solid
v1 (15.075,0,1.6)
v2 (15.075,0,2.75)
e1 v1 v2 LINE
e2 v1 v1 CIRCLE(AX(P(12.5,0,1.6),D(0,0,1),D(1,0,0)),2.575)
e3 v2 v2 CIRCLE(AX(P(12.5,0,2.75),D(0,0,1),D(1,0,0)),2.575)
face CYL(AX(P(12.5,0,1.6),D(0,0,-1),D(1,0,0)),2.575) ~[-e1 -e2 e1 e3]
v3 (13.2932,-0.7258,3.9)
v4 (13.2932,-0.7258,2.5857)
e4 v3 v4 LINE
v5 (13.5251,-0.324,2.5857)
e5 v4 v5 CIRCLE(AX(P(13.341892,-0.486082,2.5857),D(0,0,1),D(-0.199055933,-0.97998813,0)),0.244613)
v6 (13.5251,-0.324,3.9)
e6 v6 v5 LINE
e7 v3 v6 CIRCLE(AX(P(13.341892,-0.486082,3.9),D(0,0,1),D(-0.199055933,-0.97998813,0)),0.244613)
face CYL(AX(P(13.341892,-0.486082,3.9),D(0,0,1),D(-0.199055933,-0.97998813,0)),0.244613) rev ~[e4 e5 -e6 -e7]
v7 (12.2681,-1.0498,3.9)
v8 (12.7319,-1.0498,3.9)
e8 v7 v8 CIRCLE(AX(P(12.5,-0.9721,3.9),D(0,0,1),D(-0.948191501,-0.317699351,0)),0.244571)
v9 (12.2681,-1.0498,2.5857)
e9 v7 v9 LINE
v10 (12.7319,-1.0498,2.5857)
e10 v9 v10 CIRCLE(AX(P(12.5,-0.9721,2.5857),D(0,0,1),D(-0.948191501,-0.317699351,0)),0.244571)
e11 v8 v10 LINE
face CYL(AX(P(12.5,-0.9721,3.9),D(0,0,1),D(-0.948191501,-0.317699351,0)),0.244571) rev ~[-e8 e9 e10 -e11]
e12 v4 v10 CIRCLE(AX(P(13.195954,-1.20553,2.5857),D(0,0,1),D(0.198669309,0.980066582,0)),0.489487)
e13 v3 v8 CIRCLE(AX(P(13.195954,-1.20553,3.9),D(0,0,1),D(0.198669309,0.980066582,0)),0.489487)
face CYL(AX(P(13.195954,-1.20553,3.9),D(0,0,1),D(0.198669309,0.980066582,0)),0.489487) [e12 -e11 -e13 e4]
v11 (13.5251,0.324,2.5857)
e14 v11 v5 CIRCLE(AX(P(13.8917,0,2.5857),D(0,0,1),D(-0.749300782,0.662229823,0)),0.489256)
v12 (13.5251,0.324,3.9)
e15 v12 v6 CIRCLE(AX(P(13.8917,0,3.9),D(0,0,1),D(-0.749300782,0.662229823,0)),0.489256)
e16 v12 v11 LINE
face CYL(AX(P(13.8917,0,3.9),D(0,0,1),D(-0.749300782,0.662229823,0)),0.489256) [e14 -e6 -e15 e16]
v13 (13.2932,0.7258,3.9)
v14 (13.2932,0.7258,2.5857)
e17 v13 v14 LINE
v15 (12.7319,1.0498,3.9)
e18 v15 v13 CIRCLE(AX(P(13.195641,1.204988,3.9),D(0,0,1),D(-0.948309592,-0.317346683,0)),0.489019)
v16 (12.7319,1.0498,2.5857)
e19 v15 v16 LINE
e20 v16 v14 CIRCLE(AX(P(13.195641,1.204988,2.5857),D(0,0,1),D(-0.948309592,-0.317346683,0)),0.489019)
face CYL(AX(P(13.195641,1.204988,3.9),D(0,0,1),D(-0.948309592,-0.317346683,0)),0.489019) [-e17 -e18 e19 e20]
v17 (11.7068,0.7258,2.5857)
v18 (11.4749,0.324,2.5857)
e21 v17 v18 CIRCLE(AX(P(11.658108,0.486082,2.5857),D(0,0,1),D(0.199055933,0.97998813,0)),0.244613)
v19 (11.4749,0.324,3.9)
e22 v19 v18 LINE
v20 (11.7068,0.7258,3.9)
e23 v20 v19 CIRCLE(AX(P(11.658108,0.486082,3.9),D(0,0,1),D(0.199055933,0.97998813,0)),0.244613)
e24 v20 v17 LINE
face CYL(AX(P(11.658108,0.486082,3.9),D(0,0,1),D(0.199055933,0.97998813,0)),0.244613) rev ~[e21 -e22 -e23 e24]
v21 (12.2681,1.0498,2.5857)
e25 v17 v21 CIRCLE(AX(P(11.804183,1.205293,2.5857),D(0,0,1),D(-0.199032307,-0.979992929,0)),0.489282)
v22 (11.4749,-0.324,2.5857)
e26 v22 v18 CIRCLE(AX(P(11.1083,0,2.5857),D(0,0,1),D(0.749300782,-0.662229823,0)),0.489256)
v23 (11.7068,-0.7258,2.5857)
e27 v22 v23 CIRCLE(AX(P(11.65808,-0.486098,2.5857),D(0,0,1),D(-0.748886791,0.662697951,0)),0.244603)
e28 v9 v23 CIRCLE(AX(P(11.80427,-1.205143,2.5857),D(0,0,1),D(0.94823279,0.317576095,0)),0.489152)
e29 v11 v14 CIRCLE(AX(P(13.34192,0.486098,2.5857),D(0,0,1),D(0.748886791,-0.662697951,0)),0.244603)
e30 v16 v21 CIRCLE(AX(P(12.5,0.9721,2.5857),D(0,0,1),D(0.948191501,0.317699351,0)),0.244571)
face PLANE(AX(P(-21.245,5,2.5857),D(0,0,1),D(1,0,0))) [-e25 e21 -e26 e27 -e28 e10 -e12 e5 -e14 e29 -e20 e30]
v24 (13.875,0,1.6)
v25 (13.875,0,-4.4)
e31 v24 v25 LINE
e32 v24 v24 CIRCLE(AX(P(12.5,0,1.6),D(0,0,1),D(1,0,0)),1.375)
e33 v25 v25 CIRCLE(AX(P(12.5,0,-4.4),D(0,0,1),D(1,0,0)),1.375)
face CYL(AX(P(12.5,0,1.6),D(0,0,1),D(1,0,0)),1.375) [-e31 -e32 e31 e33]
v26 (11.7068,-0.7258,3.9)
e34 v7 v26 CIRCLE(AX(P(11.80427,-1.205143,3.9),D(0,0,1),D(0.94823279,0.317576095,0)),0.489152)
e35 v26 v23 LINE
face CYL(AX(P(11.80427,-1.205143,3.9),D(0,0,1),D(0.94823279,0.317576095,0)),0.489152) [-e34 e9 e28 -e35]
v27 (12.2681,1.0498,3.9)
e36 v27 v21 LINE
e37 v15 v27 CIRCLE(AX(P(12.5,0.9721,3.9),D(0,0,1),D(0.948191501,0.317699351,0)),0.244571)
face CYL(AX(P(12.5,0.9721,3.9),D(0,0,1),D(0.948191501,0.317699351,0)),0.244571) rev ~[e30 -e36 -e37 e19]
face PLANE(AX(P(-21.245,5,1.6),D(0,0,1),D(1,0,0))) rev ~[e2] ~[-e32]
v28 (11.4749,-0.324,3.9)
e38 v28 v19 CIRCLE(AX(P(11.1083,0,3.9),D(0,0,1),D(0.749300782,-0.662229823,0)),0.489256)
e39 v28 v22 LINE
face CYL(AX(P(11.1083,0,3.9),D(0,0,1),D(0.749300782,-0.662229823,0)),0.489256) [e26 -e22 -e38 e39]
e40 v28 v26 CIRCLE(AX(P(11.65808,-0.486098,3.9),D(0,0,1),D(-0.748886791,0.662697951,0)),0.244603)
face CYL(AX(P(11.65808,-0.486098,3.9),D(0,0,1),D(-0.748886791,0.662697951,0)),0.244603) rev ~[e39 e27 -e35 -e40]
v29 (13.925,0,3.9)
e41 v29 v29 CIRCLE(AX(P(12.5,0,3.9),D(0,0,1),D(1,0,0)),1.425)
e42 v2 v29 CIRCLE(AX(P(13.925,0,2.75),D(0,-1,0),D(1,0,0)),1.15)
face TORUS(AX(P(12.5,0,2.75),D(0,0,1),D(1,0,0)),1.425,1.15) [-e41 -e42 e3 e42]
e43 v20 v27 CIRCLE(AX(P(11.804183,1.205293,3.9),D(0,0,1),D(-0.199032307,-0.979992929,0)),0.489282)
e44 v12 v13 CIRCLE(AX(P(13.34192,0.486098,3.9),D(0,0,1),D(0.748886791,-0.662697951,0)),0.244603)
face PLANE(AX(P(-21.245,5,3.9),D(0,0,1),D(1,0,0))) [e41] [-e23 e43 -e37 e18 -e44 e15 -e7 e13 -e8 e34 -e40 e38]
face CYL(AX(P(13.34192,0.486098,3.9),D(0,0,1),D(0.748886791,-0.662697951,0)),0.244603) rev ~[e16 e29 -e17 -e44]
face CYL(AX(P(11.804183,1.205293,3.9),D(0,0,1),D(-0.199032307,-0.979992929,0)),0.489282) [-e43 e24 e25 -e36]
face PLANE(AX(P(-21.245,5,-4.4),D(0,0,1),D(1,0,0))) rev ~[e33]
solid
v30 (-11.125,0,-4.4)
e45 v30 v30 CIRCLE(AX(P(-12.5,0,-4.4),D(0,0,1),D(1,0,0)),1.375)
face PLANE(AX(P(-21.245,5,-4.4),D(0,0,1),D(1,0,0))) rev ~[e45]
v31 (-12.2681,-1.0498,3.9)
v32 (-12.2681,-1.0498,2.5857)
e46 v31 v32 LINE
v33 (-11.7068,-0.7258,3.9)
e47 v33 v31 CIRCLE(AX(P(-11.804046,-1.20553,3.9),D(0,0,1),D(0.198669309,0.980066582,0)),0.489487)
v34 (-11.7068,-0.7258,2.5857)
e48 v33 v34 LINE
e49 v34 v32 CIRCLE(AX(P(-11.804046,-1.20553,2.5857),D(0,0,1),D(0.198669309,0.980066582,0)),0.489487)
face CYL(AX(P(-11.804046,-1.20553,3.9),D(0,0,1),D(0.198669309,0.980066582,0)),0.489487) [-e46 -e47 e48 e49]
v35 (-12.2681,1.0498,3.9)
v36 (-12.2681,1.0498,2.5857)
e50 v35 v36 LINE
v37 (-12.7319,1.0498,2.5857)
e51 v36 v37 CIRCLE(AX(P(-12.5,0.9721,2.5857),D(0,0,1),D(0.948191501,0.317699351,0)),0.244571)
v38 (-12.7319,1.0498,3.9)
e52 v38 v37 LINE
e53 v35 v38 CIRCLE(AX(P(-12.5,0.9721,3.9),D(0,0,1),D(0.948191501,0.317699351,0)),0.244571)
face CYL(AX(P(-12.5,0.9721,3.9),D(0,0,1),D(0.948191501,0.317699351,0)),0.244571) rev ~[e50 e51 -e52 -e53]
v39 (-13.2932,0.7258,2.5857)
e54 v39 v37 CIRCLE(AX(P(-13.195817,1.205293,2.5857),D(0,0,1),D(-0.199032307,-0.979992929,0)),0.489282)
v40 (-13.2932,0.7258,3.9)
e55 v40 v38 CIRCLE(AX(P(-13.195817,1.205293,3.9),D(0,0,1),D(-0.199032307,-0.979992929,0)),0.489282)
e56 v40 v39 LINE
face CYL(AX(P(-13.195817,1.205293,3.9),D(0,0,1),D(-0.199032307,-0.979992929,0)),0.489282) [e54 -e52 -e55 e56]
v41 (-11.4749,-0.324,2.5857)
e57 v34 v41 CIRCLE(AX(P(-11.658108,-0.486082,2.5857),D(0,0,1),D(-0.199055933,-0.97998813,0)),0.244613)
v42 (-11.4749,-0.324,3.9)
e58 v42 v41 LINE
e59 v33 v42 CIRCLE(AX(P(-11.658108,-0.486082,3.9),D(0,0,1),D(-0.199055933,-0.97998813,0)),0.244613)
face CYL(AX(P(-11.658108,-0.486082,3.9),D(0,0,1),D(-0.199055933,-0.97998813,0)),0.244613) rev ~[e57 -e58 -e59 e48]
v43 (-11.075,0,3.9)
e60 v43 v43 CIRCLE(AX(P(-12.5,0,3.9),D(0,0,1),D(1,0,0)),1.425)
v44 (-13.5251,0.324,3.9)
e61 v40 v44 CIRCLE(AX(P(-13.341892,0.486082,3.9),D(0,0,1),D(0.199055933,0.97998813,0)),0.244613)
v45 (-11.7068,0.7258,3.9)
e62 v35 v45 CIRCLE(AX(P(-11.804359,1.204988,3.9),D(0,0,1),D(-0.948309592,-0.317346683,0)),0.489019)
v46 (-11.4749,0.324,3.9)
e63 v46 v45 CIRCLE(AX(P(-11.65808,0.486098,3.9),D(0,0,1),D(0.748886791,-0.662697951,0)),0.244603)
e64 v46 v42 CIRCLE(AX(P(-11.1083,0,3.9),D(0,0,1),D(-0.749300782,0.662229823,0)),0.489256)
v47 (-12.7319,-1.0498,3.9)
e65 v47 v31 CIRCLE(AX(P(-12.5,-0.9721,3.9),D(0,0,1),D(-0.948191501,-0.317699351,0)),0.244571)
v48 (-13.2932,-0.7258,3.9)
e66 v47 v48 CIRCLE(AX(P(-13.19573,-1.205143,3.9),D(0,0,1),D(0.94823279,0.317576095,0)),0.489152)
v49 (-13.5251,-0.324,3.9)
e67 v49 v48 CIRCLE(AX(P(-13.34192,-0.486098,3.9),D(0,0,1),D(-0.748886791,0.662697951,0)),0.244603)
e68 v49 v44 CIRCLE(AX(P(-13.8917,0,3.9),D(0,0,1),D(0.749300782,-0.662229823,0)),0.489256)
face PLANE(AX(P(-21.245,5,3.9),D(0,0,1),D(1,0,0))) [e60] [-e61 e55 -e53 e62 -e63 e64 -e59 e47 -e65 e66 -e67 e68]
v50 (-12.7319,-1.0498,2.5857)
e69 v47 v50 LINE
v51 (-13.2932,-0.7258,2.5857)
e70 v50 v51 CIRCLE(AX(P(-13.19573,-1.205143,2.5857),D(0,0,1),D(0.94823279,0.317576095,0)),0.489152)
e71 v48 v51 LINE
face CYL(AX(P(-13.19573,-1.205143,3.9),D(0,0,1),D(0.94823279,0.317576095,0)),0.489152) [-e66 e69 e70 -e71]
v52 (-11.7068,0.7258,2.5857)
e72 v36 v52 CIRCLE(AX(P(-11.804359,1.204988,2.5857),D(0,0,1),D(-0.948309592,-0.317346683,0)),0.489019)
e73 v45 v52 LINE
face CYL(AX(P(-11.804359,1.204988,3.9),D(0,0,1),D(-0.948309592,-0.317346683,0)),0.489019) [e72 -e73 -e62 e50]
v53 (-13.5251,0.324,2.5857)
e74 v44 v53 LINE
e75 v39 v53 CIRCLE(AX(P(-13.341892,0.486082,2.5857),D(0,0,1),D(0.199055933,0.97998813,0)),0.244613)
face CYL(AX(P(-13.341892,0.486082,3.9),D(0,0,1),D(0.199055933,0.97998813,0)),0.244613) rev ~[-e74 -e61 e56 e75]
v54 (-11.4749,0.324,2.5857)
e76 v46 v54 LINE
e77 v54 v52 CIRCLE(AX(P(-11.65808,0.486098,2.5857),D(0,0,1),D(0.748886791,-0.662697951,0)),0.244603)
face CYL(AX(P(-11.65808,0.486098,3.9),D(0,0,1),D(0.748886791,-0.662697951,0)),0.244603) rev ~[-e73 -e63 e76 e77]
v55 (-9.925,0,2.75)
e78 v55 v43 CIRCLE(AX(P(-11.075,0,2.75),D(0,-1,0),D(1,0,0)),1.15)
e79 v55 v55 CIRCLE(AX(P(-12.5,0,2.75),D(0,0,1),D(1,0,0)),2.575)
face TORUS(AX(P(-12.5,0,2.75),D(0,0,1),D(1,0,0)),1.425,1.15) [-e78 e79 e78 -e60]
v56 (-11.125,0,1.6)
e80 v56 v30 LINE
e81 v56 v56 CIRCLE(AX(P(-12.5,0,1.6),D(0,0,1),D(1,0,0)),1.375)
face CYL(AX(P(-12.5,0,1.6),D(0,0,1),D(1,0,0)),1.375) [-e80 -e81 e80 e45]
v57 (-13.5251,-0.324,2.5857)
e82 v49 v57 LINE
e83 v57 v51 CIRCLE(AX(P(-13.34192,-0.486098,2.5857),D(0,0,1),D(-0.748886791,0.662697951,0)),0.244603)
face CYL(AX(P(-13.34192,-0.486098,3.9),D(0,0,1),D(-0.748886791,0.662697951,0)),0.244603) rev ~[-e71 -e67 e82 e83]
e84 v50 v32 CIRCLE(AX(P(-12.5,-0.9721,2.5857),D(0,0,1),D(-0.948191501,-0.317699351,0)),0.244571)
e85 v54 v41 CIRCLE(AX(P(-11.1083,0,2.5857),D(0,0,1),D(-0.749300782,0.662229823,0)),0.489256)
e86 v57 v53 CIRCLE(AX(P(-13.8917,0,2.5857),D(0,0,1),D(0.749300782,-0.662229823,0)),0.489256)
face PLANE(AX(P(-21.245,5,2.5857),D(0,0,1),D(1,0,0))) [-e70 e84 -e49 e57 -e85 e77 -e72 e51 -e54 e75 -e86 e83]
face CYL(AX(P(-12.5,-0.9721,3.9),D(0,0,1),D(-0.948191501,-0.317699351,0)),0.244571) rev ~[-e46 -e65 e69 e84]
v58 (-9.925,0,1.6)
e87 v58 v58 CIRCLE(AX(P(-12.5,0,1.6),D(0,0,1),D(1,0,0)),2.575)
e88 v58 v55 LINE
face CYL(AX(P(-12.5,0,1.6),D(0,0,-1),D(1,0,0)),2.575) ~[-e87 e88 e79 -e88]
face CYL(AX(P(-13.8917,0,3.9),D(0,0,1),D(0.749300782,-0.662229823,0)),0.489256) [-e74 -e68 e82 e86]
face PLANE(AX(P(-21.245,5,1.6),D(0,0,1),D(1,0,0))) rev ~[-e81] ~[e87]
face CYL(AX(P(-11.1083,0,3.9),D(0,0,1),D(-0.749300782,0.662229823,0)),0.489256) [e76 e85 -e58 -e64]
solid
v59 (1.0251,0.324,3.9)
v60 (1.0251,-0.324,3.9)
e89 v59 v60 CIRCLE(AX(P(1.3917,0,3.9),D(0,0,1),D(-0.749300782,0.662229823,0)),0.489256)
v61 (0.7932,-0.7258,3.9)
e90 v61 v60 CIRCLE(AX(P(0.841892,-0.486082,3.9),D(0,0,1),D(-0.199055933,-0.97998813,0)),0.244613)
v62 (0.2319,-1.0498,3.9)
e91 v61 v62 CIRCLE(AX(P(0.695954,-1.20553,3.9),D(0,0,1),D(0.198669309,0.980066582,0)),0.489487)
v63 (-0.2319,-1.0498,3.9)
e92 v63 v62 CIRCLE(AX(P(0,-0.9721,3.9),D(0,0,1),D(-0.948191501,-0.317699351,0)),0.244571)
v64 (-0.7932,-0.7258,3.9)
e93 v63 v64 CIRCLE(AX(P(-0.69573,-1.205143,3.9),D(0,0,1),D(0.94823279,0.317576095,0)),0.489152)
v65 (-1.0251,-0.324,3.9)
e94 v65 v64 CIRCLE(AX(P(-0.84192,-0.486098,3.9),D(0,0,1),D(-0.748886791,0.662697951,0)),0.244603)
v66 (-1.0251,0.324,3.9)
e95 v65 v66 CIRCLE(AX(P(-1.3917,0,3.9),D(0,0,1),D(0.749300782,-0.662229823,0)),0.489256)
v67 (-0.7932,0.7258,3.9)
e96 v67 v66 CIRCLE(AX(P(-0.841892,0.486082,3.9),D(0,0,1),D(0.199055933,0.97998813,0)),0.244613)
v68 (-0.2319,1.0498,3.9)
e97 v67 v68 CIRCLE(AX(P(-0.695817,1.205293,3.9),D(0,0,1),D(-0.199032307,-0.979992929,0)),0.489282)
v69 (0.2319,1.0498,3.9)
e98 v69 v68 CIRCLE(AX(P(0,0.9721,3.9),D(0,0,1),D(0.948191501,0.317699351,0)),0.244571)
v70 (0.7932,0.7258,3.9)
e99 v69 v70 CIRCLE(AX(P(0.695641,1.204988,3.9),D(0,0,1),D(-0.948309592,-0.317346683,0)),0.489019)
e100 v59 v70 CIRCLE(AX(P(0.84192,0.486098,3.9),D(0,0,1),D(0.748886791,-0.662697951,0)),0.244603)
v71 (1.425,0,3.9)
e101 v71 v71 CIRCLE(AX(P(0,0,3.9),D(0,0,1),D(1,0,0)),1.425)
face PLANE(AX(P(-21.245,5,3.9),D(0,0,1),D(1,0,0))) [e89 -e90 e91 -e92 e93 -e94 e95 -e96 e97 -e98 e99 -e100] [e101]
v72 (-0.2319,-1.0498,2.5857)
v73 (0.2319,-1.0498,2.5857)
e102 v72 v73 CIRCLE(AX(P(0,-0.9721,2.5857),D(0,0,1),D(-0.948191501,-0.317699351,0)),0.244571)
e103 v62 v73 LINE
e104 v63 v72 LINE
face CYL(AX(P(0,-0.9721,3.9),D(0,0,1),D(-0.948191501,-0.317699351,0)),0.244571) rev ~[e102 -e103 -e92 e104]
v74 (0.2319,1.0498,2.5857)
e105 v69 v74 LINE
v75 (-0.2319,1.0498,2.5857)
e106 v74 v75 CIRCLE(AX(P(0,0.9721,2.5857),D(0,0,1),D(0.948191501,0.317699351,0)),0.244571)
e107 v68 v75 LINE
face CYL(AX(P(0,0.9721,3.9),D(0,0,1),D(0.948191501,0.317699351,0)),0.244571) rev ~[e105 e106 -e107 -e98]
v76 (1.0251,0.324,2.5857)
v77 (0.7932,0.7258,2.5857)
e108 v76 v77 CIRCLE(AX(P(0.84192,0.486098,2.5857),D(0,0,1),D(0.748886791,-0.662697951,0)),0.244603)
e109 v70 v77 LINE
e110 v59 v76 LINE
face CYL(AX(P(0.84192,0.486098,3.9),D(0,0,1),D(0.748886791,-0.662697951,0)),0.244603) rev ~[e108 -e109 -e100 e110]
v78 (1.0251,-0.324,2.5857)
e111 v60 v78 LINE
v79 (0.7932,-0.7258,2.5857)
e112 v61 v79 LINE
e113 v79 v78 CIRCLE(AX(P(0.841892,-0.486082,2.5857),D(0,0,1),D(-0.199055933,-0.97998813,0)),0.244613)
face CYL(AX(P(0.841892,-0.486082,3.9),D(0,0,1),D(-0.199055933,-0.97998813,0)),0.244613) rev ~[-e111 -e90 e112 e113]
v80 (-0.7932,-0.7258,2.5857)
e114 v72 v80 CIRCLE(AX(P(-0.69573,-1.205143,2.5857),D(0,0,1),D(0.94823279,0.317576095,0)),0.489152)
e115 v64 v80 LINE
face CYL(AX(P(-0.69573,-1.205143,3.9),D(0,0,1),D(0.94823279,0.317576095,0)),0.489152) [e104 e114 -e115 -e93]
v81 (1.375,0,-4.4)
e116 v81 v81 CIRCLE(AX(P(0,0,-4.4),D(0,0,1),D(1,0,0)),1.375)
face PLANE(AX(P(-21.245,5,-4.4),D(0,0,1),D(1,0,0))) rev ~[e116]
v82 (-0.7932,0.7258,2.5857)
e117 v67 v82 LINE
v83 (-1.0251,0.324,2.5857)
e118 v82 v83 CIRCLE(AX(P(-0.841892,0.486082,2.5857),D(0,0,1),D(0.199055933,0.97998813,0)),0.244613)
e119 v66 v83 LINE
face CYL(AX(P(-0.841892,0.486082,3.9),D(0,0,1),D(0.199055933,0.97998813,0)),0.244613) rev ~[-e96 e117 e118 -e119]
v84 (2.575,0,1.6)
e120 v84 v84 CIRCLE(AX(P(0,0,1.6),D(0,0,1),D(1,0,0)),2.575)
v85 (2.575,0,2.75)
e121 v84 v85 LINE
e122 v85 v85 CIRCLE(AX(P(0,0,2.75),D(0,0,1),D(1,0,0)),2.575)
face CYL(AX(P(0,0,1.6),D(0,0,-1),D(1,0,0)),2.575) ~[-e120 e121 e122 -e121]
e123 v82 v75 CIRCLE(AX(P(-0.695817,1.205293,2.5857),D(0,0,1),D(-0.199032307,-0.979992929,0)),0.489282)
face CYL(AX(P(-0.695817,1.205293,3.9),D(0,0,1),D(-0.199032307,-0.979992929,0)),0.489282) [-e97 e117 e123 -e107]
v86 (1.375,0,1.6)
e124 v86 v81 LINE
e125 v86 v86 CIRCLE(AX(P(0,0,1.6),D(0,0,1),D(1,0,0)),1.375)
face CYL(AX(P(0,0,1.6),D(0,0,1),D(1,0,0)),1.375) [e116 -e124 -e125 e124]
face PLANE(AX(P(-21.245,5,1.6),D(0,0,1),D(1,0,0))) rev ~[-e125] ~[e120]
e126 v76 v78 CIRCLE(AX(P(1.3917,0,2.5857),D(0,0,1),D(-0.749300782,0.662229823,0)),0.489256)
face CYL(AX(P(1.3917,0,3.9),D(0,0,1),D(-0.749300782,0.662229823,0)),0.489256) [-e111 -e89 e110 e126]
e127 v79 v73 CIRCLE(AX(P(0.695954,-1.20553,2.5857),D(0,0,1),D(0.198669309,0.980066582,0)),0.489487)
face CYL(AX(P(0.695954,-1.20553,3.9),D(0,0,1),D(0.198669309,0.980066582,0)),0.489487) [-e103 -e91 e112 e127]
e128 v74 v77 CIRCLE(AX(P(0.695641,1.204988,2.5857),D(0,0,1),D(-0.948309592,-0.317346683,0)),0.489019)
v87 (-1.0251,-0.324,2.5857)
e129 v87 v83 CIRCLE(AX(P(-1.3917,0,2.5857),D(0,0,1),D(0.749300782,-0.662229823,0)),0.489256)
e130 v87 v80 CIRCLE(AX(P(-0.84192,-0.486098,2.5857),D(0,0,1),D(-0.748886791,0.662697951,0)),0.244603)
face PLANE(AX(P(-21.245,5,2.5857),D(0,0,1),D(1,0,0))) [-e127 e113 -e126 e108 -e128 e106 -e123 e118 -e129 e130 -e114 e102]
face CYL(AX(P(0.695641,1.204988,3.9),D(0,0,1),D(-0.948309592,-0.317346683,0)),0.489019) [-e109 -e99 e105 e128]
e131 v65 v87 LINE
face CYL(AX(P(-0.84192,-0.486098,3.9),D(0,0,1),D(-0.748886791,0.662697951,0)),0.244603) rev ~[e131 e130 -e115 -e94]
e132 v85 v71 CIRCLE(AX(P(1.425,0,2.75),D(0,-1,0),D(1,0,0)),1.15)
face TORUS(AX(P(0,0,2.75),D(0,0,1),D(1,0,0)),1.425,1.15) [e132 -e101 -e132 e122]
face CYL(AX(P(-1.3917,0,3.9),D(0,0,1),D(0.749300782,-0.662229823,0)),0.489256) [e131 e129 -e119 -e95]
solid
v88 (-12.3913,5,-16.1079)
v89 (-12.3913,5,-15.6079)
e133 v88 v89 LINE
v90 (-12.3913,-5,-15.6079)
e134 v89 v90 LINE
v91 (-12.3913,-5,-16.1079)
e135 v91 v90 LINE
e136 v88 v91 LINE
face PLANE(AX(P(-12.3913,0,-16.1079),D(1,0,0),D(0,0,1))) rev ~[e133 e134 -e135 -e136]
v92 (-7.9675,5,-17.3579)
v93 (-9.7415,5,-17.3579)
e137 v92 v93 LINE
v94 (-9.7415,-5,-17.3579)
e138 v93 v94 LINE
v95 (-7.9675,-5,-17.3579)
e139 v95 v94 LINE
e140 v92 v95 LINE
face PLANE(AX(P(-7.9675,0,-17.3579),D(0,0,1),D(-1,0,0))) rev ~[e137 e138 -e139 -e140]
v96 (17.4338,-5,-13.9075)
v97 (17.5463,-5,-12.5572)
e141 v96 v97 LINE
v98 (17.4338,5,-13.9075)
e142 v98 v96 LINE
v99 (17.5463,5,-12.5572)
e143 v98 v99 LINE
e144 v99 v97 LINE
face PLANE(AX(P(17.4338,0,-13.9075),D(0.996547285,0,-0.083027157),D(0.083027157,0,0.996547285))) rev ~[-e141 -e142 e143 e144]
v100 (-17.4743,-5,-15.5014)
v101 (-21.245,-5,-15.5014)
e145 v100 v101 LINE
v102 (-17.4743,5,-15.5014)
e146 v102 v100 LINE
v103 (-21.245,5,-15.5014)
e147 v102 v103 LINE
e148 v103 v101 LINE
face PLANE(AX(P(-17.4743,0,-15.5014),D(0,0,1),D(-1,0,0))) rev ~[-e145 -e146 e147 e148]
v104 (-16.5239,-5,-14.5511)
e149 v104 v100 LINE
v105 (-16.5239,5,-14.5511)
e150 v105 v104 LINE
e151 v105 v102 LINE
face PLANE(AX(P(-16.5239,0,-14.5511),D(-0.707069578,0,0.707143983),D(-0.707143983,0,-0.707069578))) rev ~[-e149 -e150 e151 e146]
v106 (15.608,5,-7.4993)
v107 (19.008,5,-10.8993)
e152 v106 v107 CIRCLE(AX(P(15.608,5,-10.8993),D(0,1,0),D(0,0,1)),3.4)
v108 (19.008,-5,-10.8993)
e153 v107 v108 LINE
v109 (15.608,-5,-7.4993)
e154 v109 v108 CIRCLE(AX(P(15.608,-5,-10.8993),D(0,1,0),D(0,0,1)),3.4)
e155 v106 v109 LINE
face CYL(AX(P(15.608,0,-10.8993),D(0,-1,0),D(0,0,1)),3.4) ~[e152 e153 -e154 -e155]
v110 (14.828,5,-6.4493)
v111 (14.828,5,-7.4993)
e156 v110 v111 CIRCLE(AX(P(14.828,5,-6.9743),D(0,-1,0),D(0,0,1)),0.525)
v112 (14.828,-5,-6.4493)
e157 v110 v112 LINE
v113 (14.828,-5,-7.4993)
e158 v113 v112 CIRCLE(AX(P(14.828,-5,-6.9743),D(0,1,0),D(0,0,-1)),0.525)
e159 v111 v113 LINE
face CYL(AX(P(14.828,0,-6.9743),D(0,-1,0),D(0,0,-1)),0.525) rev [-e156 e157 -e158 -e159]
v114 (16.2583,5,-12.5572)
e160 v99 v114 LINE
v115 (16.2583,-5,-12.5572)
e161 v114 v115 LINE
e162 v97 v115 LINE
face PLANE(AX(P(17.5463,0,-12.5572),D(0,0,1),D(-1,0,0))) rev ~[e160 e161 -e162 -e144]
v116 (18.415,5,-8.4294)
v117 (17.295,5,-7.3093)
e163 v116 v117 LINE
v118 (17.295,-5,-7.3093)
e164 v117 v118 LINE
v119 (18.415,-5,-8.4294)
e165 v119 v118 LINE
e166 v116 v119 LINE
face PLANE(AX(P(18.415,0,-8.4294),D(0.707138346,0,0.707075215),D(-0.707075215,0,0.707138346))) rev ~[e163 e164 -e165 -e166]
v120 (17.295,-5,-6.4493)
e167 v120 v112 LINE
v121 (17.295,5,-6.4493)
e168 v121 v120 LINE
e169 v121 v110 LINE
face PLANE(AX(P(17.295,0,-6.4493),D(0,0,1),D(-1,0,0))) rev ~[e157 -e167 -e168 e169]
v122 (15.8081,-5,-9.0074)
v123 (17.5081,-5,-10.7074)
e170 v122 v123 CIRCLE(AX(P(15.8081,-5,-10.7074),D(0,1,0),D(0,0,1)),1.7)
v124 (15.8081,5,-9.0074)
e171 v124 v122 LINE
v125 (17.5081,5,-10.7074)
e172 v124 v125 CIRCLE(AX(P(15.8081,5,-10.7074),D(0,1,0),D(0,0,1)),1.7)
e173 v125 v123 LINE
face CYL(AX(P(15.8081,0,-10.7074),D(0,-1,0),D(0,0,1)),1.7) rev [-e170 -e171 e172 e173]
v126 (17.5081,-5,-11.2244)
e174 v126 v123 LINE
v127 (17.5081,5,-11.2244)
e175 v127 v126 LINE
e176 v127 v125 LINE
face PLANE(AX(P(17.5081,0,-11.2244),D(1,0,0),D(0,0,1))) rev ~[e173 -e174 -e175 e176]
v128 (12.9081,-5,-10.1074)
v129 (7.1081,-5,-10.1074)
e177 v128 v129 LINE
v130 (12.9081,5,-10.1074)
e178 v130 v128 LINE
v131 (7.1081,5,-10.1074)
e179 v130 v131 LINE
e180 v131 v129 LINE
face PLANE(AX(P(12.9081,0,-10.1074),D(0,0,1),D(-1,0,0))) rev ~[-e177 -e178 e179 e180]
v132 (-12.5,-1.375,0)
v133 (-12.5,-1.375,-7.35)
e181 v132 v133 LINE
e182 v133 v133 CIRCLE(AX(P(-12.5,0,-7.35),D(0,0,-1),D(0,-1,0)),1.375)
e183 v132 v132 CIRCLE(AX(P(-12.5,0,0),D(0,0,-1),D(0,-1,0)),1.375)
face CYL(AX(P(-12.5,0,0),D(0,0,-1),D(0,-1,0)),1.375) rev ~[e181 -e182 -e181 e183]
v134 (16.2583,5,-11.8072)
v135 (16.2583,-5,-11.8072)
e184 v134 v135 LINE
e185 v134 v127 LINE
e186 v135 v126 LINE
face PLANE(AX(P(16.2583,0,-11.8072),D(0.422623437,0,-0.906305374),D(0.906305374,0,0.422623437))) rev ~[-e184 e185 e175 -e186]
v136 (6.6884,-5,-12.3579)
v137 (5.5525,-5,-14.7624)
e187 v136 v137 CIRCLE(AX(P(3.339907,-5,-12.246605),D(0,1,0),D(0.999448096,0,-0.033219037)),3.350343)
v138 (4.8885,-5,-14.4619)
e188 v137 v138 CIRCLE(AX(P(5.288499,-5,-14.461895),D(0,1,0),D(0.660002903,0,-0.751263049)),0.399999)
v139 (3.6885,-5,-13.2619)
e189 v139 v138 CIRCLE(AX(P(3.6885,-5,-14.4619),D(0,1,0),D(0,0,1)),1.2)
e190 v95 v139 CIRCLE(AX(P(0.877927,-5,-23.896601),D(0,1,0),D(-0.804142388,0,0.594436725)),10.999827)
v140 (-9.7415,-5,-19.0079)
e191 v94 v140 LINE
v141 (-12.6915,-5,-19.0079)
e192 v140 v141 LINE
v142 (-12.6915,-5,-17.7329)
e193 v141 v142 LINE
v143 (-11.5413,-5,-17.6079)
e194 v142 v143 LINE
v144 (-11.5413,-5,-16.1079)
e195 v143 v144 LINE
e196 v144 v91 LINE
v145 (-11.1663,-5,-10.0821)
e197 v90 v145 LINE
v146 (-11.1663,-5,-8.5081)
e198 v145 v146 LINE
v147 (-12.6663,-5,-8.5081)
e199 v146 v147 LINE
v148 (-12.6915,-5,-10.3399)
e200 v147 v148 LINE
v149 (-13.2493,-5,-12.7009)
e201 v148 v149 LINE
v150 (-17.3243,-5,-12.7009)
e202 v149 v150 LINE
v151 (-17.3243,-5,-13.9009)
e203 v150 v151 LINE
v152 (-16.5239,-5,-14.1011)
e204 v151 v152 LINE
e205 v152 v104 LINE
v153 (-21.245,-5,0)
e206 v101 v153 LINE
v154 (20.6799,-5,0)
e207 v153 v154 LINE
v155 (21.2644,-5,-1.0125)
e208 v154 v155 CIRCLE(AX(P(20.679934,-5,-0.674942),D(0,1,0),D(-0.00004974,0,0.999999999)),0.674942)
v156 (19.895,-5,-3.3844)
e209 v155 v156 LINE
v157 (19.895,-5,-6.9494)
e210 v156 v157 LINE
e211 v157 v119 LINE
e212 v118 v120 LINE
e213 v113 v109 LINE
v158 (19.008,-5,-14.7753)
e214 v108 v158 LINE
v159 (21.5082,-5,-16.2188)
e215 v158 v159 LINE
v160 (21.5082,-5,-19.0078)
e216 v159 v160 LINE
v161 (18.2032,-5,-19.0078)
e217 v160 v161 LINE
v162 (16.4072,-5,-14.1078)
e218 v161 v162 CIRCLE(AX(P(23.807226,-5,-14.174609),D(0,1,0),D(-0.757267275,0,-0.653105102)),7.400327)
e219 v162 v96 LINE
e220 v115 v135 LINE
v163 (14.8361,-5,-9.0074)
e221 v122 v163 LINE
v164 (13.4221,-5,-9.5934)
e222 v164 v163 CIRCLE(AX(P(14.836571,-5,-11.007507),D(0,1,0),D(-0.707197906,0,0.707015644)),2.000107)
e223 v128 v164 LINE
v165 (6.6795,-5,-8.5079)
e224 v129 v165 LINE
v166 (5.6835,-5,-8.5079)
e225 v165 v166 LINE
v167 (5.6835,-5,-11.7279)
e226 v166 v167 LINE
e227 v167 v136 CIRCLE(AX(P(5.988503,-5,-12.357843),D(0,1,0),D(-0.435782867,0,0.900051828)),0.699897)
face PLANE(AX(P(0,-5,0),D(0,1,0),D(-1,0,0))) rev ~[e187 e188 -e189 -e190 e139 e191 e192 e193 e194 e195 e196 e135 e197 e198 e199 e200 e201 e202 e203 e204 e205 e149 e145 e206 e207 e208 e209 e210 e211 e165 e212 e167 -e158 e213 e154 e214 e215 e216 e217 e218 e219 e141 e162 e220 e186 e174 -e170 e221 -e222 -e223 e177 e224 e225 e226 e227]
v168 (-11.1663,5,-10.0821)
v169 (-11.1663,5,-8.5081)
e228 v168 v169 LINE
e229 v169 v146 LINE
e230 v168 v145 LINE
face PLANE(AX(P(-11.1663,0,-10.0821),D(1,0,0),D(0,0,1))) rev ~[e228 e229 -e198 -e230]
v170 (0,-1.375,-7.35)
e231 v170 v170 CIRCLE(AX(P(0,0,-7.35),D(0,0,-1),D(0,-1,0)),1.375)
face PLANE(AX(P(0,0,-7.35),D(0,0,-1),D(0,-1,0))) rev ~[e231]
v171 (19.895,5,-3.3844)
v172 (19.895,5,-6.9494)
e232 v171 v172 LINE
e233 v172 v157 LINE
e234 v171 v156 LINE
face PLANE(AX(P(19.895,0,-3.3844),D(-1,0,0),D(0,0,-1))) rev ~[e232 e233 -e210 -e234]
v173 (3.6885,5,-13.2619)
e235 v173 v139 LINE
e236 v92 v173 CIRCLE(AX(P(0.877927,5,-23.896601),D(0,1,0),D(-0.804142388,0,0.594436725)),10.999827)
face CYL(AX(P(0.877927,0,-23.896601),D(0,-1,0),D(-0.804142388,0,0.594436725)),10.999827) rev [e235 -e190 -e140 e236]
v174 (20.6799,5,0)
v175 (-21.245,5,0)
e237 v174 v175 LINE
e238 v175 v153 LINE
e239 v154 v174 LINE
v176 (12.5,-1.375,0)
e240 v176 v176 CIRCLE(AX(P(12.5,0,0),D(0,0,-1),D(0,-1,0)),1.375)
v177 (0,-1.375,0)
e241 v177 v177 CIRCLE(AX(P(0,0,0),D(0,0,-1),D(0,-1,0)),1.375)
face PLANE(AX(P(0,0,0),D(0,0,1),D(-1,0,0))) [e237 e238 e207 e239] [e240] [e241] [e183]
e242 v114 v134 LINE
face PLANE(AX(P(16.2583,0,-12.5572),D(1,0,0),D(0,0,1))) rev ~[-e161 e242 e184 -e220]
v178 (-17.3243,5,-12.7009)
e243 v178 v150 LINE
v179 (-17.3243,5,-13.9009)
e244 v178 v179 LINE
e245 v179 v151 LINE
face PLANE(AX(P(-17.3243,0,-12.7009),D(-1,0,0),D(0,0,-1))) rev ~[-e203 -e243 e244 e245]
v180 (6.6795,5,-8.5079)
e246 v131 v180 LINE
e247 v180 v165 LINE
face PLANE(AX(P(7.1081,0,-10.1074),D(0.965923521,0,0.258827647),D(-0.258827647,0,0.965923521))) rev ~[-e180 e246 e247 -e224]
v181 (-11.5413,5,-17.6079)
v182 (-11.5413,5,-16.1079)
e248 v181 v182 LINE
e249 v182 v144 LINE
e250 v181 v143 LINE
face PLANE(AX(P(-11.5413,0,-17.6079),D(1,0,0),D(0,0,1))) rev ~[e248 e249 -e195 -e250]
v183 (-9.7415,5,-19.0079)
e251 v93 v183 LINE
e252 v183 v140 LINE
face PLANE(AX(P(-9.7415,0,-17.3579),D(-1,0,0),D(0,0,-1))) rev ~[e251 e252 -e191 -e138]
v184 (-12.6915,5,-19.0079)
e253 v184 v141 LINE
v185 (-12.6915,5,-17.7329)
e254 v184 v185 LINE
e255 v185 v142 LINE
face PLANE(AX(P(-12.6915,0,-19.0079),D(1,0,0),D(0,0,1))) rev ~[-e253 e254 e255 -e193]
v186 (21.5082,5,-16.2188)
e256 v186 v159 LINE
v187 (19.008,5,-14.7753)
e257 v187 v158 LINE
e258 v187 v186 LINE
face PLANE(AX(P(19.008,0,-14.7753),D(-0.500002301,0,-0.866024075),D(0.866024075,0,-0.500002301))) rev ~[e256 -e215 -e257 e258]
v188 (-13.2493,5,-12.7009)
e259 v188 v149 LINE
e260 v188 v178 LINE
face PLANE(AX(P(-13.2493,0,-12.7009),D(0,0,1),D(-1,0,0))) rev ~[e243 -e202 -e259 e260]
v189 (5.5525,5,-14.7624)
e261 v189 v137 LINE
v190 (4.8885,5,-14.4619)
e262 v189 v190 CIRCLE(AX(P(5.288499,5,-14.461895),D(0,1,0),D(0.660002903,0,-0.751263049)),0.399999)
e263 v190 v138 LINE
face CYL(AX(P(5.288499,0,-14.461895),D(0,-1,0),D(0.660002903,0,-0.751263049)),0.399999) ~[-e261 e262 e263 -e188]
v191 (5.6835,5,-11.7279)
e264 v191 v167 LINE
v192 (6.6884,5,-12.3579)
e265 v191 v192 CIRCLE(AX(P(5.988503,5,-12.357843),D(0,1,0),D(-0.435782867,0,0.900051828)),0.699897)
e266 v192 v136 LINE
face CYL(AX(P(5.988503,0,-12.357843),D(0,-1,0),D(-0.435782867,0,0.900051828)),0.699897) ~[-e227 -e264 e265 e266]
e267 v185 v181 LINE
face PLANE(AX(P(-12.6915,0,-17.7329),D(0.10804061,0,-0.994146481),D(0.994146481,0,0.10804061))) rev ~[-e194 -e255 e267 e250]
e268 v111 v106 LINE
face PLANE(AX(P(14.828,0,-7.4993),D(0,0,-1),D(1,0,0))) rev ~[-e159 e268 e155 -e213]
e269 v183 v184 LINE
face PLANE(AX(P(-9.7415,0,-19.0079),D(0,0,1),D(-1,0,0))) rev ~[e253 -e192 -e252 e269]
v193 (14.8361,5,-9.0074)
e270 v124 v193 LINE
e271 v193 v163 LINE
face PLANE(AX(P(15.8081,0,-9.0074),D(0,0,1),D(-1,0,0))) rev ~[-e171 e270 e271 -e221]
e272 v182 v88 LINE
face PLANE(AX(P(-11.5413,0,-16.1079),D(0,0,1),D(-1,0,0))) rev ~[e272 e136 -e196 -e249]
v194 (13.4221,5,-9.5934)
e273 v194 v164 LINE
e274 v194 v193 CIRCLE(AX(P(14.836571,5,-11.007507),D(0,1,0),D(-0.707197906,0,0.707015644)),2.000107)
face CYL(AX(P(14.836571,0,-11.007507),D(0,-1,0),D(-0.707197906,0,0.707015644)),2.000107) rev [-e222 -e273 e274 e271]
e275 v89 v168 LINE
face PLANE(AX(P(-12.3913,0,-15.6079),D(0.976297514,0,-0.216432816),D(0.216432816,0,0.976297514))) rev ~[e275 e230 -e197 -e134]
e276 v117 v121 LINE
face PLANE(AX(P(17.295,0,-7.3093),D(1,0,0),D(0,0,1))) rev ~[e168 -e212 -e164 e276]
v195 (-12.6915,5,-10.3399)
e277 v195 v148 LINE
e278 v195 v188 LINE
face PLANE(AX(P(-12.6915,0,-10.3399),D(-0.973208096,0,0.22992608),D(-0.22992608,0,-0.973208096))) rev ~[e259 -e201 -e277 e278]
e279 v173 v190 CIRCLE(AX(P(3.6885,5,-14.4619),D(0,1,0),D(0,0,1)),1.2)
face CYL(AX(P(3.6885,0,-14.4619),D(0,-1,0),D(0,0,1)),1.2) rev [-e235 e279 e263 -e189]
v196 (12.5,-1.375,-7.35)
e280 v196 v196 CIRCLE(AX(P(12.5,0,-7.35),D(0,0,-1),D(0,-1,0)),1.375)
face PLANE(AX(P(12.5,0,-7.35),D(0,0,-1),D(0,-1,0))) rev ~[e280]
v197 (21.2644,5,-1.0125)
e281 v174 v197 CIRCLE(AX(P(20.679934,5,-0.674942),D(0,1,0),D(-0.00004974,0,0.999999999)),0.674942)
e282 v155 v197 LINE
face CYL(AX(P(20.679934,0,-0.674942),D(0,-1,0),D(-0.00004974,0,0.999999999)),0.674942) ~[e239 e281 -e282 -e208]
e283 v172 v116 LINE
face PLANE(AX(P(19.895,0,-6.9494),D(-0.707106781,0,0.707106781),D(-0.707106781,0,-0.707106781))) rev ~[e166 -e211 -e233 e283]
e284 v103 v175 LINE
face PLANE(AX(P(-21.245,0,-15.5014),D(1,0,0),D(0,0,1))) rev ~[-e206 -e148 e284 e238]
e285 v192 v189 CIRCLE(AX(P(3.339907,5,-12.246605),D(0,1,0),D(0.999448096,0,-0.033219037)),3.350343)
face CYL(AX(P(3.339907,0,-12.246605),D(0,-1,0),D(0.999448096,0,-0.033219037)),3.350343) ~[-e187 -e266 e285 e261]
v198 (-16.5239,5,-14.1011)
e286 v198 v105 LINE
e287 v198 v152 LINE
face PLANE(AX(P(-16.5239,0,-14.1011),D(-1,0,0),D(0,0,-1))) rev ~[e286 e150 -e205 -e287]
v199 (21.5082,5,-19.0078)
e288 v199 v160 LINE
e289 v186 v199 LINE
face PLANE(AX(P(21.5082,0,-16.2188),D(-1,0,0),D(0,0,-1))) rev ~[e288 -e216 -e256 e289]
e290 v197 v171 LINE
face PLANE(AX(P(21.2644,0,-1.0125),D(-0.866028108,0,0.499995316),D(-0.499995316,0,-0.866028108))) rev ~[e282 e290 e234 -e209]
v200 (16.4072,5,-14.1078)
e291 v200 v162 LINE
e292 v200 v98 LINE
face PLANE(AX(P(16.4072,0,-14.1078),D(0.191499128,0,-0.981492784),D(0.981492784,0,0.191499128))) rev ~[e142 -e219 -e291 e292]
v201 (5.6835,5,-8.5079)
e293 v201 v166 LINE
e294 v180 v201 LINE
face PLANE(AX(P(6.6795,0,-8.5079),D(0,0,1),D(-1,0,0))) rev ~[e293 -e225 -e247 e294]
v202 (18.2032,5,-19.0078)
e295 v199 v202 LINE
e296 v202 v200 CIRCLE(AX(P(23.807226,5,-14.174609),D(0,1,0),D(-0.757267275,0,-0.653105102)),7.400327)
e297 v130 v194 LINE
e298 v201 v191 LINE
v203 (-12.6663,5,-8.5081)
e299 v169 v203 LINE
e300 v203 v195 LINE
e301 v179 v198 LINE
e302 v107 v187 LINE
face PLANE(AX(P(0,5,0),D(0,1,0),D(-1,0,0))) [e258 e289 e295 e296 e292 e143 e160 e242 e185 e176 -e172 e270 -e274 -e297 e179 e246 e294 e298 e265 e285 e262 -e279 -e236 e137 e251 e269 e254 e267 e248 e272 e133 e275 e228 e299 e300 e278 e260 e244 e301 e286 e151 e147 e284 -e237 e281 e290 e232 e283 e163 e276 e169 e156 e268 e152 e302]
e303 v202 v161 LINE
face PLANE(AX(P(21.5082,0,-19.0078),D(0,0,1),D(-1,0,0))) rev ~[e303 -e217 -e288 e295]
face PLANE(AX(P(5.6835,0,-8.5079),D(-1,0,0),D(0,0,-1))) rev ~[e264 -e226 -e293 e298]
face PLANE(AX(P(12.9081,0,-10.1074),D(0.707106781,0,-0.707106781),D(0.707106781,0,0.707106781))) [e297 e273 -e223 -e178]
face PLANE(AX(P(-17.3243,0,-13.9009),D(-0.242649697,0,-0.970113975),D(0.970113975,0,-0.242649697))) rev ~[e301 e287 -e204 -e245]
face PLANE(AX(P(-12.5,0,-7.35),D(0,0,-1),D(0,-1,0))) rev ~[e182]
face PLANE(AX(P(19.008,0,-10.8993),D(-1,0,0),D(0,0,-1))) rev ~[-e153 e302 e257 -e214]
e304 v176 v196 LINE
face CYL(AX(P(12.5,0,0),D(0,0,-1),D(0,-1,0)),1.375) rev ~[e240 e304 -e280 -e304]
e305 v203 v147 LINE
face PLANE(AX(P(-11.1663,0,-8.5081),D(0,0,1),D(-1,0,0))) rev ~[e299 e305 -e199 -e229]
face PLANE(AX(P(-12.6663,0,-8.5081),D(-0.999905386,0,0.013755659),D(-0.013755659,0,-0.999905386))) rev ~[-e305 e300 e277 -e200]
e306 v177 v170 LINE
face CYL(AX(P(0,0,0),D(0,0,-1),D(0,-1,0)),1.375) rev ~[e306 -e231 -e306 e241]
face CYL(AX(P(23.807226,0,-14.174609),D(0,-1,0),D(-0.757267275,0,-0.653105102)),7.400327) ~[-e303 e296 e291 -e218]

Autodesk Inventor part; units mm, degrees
ref_plane "YZ Plane" through (0, 0, 0) normal (1, 0, 0) x (0, 1, 0)
sketch "Sketch1" plane through (0, 0, 0) normal (0, 1, 0) x (-1, 0, 0)
  line L0 (0, 0) -> (21.245, 0)
  line L1 (0, 0) -> (-20.6799, 0)
  line L2 (-21.2644, -1.0125) -> (-19.895, -3.3844)
  line L3 (-21.849, 0) -> (-19.1101, 0) construction
  arc A0 (-20.6799, 0) -> (-21.2644, -1.0125) centre (-20.6799, -0.675) ccw
  line L4 (-19.895, -3.3844) -> (-19.895, -6.9494)
  line L5 (-19.895, -6.9494) -> (-18.415, -8.4294)
  line L6 (-19.895, -6.9494) -> (-17.802, -6.9494) construction
  line L7 (-18.415, -8.4294) -> (-17.295, -7.3093)
  line L8 (-17.295, -7.3093) -> (-17.295, -6.4493)
  line L9 (-17.295, -6.4493) -> (-14.828, -6.4493)
  line L10 (-14.303, -6.9743) -> (-14.303, -6.9743)
  line L11 (-14.828, -7.4993) -> (-15.608, -7.4993)
  arc A1 (-14.303, -6.9743) -> (-14.828, -6.4493) centre (-14.828, -6.9743) ccw
  arc A2 (-14.828, -7.4993) -> (-14.303, -6.9743) centre (-14.828, -6.9743) ccw
  arc A3 (-15.608, -7.4993) -> (-19.008, -10.8993) centre (-15.608, -10.8993) ccw
  line L12 (-15.608, -10.8993) -> (-19.008, -10.8993) construction
  line L13 (-15.608, -10.8993) -> (-15.608, -7.4993) construction
  line L14 (-19.008, -10.8993) -> (-19.008, -14.7753)
  line L15 (-19.008, -14.7753) -> (-21.5082, -16.2188)
  line L16 (-19.008, -14.7753) -> (-16.121, -14.7753) construction
  line L17 (-21.5082, -16.2188) -> (-21.5082, -19.0078)
  line L18 (-21.5082, -19.0078) -> (-18.2032, -19.0078)
  line L19 (-18.2032, -19.0078) -> (-16.4072, -19.0078) construction
  line L20 (-16.4072, -19.0078) -> (-16.4072, -14.1078) construction
  line L21 (-16.4072, -14.1078) -> (-17.4338, -13.9075)
  line L22 (-16.4072, -14.1078) -> (-15.3612, -14.1078) construction
  line L23 (-17.4338, -13.9075) -> (-17.5463, -12.5572)
  line L24 (-17.4338, -13.9075) -> (-16.0788, -13.9075) construction
  line L25 (-17.5463, -12.5572) -> (-16.2583, -12.5572)
  line L26 (-16.2583, -12.5572) -> (-16.2583, -11.8072)
  line L27 (-16.2583, -11.8072) -> (-17.5081, -11.2244)
  line L28 (-17.5081, -11.2244) -> (-17.5081, -10.7074)
  line L29 (-15.8081, -9.0074) -> (-14.8361, -9.0074)
  arc A4 (-15.8081, -9.0074) -> (-17.5081, -10.7074) centre (-15.8081, -10.7074) ccw
  line L30 (-14.8361, -9.0074) -> (-12.9081, -9.0074) construction
  line L31 (-12.9081, -9.0074) -> (-12.9081, -10.1074) construction
  line L32 (-12.9081, -10.1074) -> (-13.4221, -9.5934)
  line L33 (-12.9081, -10.1074) -> (-12.1811, -10.1074) construction
  line L34 (-12.9081, -10.1074) -> (-7.1081, -10.1074)
  line L35 (-7.1081, -10.1074) -> (-6.6795, -8.5079)
  line L36 (-7.1081, -10.1074) -> (-5.4521, -10.1074) construction
  line L37 (-6.6795, -8.5079) -> (-5.6835, -8.5079)
  line L38 (-5.6835, -8.5079) -> (-5.6835, -11.7279)
  line L39 (-5.6835, -11.7279) -> (-5.9885, -11.7279) construction
  line L40 (-5.9885, -11.7279) -> (-5.9885, -12.3579) construction
  arc A5 (-5.6835, -11.7279) -> (-6.6884, -12.3579) centre (-5.9885, -12.3579) ccw
  line L41 (-5.6835, -11.7279) -> (-5.2885, -11.7279) construction
  line L42 (-5.2885, -11.7279) -> (-5.2885, -14.4619) construction
  line L43 (-5.6835, -11.7279) -> (-3.3405, -11.7279) construction
  line L44 (-3.3405, -11.7279) -> (-3.3405, -12.2459) construction
  line L45 (-5.6835, -11.7279) -> (-5.5525, -11.7279) construction
  line L46 (-5.5525, -11.7279) -> (-5.5525, -14.7619) construction
  arc A6 (-5.5525, -14.7624) -> (-4.8885, -14.4619) centre (-5.2885, -14.4619) ccw
  line L47 (-5.6835, -11.7279) -> (7.9675, -11.7279) construction
  line L48 (7.9675, -11.7279) -> (7.9675, -17.3579) construction
  arc A7 (-3.6885, -13.2619) -> (-4.8885, -14.4619) centre (-3.6885, -14.4619) ccw
  line L49 (-3.6885, -14.4619) -> (-3.6885, -13.2619) construction
  line L50 (-3.6885, -14.4619) -> (-4.8885, -14.4619) construction
  arc A8 (7.9675, -17.3579) -> (-3.6885, -13.2619) centre (-0.878, -23.8967) ccw
  line L51 (7.9675, -17.3579) -> (9.7415, -17.3579)
  line L52 (9.7415, -17.3579) -> (9.7415, -19.0079)
  line L53 (9.7415, -19.0079) -> (12.6915, -19.0079)
  line L54 (12.6915, -19.0079) -> (12.6915, -17.7329)
  line L55 (12.6915, -17.7329) -> (11.5413, -17.6079)
  line L56 (11.5413, -17.6079) -> (11.5413, -16.1079)
  line L57 (11.5413, -16.1079) -> (12.3913, -16.1079)
  line L58 (12.3913, -16.1079) -> (12.3913, -15.6079)
  line L59 (12.3913, -15.6079) -> (11.1663, -10.0821)
  line L60 (11.1663, -10.0821) -> (11.1663, -8.5081)
  line L61 (11.1663, -8.5081) -> (12.6663, -8.5081)
  line L62 (12.6663, -8.5081) -> (12.6915, -10.3399)
  line L63 (12.6915, -10.3399) -> (13.2493, -12.7009)
  line L64 (13.2493, -12.7009) -> (17.3243, -12.7009)
  line L65 (17.3243, -12.7009) -> (17.3243, -13.9009)
  line L66 (17.3243, -13.9009) -> (16.5239, -14.1011)
  line L67 (16.5239, -14.1011) -> (16.5239, -14.5511)
  line L68 (16.5239, -14.5511) -> (17.4743, -15.5014)
  line L69 (17.4743, -15.5014) -> (21.245, -15.5014)
  line L70 (21.245, -15.5014) -> (21.245, 0)
  arc A9 (-18.2032, -19.0078) -> (-16.4072, -14.1078) centre (-23.8069, -14.1748) ccw
  arc A10 (-13.4221, -9.5934) -> (-14.8361, -9.0074) centre (-14.8365, -11.0074) ccw
  arc A11 (-6.6884, -12.3579) -> (-5.5525, -14.7624) centre (-3.3403, -12.2467) ccw
  point P0 (-14.303, -6.4493)
  point P1 (-14.303, -7.4993)
  point P2 (-17.5081, -9.0074)
  dimension "d0" = 21.245
  dimension "d1" = 21.849
  dimension "d2" = 3.908
  dimension "d3" = 60
  dimension "d4" = 0.675
  dimension "d5" = 3.565
  dimension "d6" = 45
  dimension "d7" = 2.093
  dimension "d8" = 1.584
  dimension "d9" = 0.86
  dimension "d10" = 2.992
  dimension "d11" = 1.05
  dimension "d12" = 1.305
  dimension "d13" = 0.525
  dimension "d14" = 90
  dimension "d15" = 3.4
  dimension "d16" = 3.876
  dimension "d17" = 2.887
  dimension "d18" = 150
  dimension "d19" = 2.789
  dimension "d20" = 3.305
  dimension "d21" = 1.796
  dimension "d22" = 4.9
  dimension "d25" = 1.046
  dimension "d26" = 168.96
  dimension "d27" = 265.24
  dimension "d28" = 1.355
  dimension "d29" = 1.288
  dimension "d30" = 0.75
  dimension "d31" = 1.379
  dimension "d32" = 115
  dimension "d33" = 2.217
  dimension "d35" = 2.672
  dimension "d36" = 1.7
  dimension "d37" = 1.928
  dimension "d38" = 1.1
  dimension "d39" = 0.727
  dimension "d40" = 135
  dimension "d41" = 5.8
  dimension "d44" = 1.656
  dimension "d45" = 75
  dimension "d46" = 0.996
  dimension "d47" = 3.22
  dimension "d48" = 0.305
  dimension "d49" = 0.63
  dimension "d50" = 0.395
  dimension "d51" = 2.734
  dimension "d52" = 2.343
  dimension "d53" = 0.518
  dimension "d54" = 0.131
  dimension "d55" = 3.034
  dimension "d57" = 0.4
  dimension "d58" = 13.651
  dimension "d59" = 5.63
  dimension "d60" = 90
  dimension "d61" = 1.2
  dimension "d62" = 0
  dimension "d63" = 11
  dimension "d64" = 1.774
  dimension "d65" = 1.65
  dimension "d66" = 2.95
  dimension "d67" = 1.275
  dimension "d68" = 1.157
  dimension "d69" = 96.2
extrude "Extrusion1" add sketch "Sketch1" along normal blind 5 and the other way blind 5
sketch "Sketch2" plane through (0, 0, 0) normal (0, 0, 1) x (1, 0, 0)
  point P0 (0, 0)
  point P1 (0, 0)
  point P2 (12.5, 0)
  point P3 (-12.5, 0)
  dimension "d95" = 12.5
  dimension "d96" = 12.5
  dimension "d97" = 0
  dimension "d98" = 0
hole "Hole1" at (0, 0, 0) at (12.5, 0, 0) at (-12.5, 0, 0) direction (0, 0, -1) diameter 2.75 depth 7.35
ref_plane "Work Plane1" through (-21.245, 5, 1.6) normal (0, 0, 1) x (1, 0, 0)
sketch "Sketch3" plane through (-21.245, 5, 1.6) normal (0, 0, 1) x (1, 0, 0)
  circle A0 centre (8.745, -5) radius 1.375 projected
  circle A1 centre (21.245, -5) radius 1.375 projected
  circle A2 centre (33.745, -5) radius 1.375 projected
  circle A3 centre (8.745, -5) radius 1.5
  circle A4 centre (21.245, -5) radius 1.5
  circle A5 centre (33.745, -5) radius 1.5
  circle A6 centre (8.745, -5) radius 2.575
  circle A7 centre (21.245, -5) radius 2.575
  circle A8 centre (33.745, -5) radius 2.575
  dimension "d107" = 3
  dimension "d108" = 3
  dimension "d109" = 3
  dimension "d118" = 5.15
  dimension "d119" = 5.15
  dimension "d120" = 5.15
extrude "Extrusion2" add sketch "Sketch3" against normal blind 6 separate body contours A0 | A1 | A2
thread "Thread1" size "M3x0.5" class "6g" standard "ANSI Metric M Profile" full length
thread "Thread2" size "M3x0.5" class "6g" standard "ANSI Metric M Profile" full length
thread "Thread3" size "M3x0.5" class "6g" standard "ANSI Metric M Profile" full length
extrude "Extrusion3" add sketch "Sketch3" along normal blind 2.3 contours A0 | A1 | A2 | A3 | A4 | A5 | A6 | A7 | A8 bodies 2
fillet "Fillet1" radius 1.15 3 edges at (-15.075, 0, 3.9) (-2.575, 0, 3.9) (9.925, 0, 3.9)
ref_plane "Work Plane2" through (-21.245, 5, 3.9) normal (0, 0, 1) x (1, 0, 0)
sketch "Sketch5" plane through (-21.245, 5, 3.9) normal (0, 0, 1) x (1, 0, 0)
  circle A0 centre (21.245, -5) radius 0.9721 construction
  circle A1 centre (21.245, -5) radius 1.0751 construction
  circle A2 centre (21.245, -5) radius 1.3917 construction
  line L0 (0, 0) -> (41.9249, 0) construction
  line L1 (21.245, -5) -> (21.245, -4.0279) construction
  arc A3 (21.4769, -3.9502) -> (21.0131, -3.9502) centre (21.245, -4.0279) ccw
  line L2 (21.245, -5) -> (21.9409, -3.7948) construction
  line L3 (21.245, -5) -> (22.6367, -5) construction
  arc A4 (21.4769, -3.9502) -> (22.0382, -4.2742) centre (21.9409, -3.7948) ccw
  line L4 (21.245, -5) -> (21.245, -3.6083) construction
  line L5 (21.245, -5) -> (20.5492, -3.7948) construction
  line L6 (21.245, -5) -> (20.0398, -4.3041) construction
  line L7 (21.245, -5) -> (19.8533, -5) construction
  line L8 (21.245, -5) -> (20.0398, -5.6959) construction
  line L9 (21.245, -5) -> (20.5492, -6.2052) construction
  line L10 (21.245, -5) -> (21.245, -6.3917) construction
  line L11 (21.245, -5) -> (21.9409, -6.2052) construction
  line L12 (21.245, -5) -> (22.4502, -5.6959) construction
  line L13 (21.245, -5) -> (22.6367, -5) construction
  line L14 (21.245, -5) -> (22.4502, -4.3041) construction
  arc A5 (22.2701, -4.676) -> (22.0382, -4.2742) centre (22.0869, -4.5139) ccw
  arc A6 (22.2701, -4.676) -> (22.2701, -5.324) centre (22.6367, -5) ccw
  arc A7 (22.0382, -5.7258) -> (22.2701, -5.324) centre (22.0869, -5.4861) ccw
  arc A8 (22.0382, -5.7258) -> (21.4769, -6.0498) centre (21.9409, -6.2052) ccw
  arc A9 (21.0131, -6.0498) -> (21.4769, -6.0498) centre (21.245, -5.9721) ccw
  arc A10 (21.0131, -6.0498) -> (20.4518, -5.7258) centre (20.5492, -6.2052) ccw
  arc A11 (20.2199, -5.324) -> (20.4518, -5.7258) centre (20.4031, -5.4861) ccw
  arc A12 (20.2199, -5.324) -> (20.2199, -4.676) centre (19.8533, -5) ccw
  arc A13 (20.4518, -4.2742) -> (20.2199, -4.676) centre (20.4031, -4.5139) ccw
  arc A14 (20.4523, -4.2743) -> (21.0131, -3.9502) centre (20.5492, -3.7948) ccw
  line L15 (20.4523, -4.2743) -> (20.4518, -4.2742)
  circle A15 centre (8.745, -5) radius 1.425 projected
  arc A16 (32.7199, -5.324) -> (32.7199, -4.676) centre (32.3533, -5) ccw
  arc A17 (34.5382, -5.7258) -> (33.9769, -6.0498) centre (34.4409, -6.2052) ccw
  line L16 (33.745, -5) -> (34.4409, -6.2052) construction
  arc A18 (33.5131, -6.0498) -> (33.9769, -6.0498) centre (33.745, -5.9721) ccw
  line L17 (33.745, -5) -> (33.745, -6.3917) construction
  line L18 (33.745, -5) -> (32.5398, -5.6959) construction
  line L19 (33.745, -5) -> (33.0492, -6.2052) construction
  line L20 (33.745, -5) -> (32.3533, -5) construction
  line L21 (33.745, -5) -> (32.5398, -4.3041) construction
  line L22 (33.745, -5) -> (33.0492, -3.7948) construction
  line L23 (33.745, -5) -> (33.745, -4.0279) construction
  arc A19 (33.9769, -3.9502) -> (33.5131, -3.9502) centre (33.745, -4.0279) ccw
  line L24 (33.745, -5) -> (33.745, -3.6083) construction
  line L25 (33.745, -5) -> (34.4409, -3.7948) construction
  arc A20 (33.9769, -3.9502) -> (34.5382, -4.2742) centre (34.4409, -3.7948) ccw
  arc A21 (32.7199, -5.324) -> (32.9518, -5.7258) centre (32.9031, -5.4861) ccw
  arc A22 (32.9518, -4.2742) -> (32.7199, -4.676) centre (32.9031, -4.5139) ccw
  line L26 (32.9523, -4.2743) -> (32.9518, -4.2742)
  arc A23 (33.5131, -6.0498) -> (32.9518, -5.7258) centre (33.0492, -6.2052) ccw
  arc A24 (32.9523, -4.2743) -> (33.5131, -3.9502) centre (33.0492, -3.7948) ccw
  circle A25 centre (33.745, -5) radius 1.0751 construction
  circle A26 centre (33.745, -5) radius 1.3917 construction
  circle A27 centre (33.745, -5) radius 0.9721 construction
  line L27 (33.745, -5) -> (35.1367, -5) construction
  arc A28 (34.5382, -5.7258) -> (34.7701, -5.324) centre (34.5869, -5.4861) ccw
  line L28 (33.745, -5) -> (34.9502, -5.6959) construction
  arc A29 (34.7701, -4.676) -> (34.7701, -5.324) centre (35.1367, -5) ccw
  line L29 (33.745, -5) -> (35.1367, -5) construction
  line L30 (33.745, -5) -> (34.9502, -4.3041) construction
  arc A30 (34.7701, -4.676) -> (34.5382, -4.2742) centre (34.5869, -4.5139) ccw
  arc A31 (7.7199, -5.324) -> (7.7199, -4.676) centre (7.3533, -5) ccw
  arc A32 (9.5382, -5.7258) -> (8.9769, -6.0498) centre (9.4409, -6.2052) ccw
  line L31 (8.745, -5) -> (9.4409, -6.2052) construction
  arc A33 (8.5131, -6.0498) -> (8.9769, -6.0498) centre (8.745, -5.9721) ccw
  line L32 (8.745, -5) -> (8.745, -6.3917) construction
  line L33 (8.745, -5) -> (7.5398, -5.6959) construction
  line L34 (8.745, -5) -> (8.0492, -6.2052) construction
  line L35 (8.745, -5) -> (7.3533, -5) construction
  line L36 (8.745, -5) -> (7.5398, -4.3041) construction
  line L37 (8.745, -5) -> (8.0492, -3.7948) construction
  line L38 (8.745, -5) -> (8.745, -4.0279) construction
  arc A34 (8.9769, -3.9502) -> (8.5131, -3.9502) centre (8.745, -4.0279) ccw
  line L39 (8.745, -5) -> (8.745, -3.6083) construction
  line L40 (8.745, -5) -> (9.4409, -3.7948) construction
  arc A35 (8.9769, -3.9502) -> (9.5382, -4.2742) centre (9.4409, -3.7948) ccw
  arc A36 (7.7199, -5.324) -> (7.9518, -5.7258) centre (7.9031, -5.4861) ccw
  arc A37 (7.9518, -4.2742) -> (7.7199, -4.676) centre (7.9031, -4.5139) ccw
  line L41 (7.9523, -4.2743) -> (7.9518, -4.2742)
  arc A38 (8.5131, -6.0498) -> (7.9518, -5.7258) centre (8.0492, -6.2052) ccw
  arc A39 (7.9523, -4.2743) -> (8.5131, -3.9502) centre (8.0492, -3.7948) ccw
  circle A40 centre (8.745, -5) radius 1.0751 construction
  circle A41 centre (8.745, -5) radius 1.3917 construction
  circle A42 centre (8.745, -5) radius 0.9721 construction
  line L42 (8.745, -5) -> (10.1367, -5) construction
  arc A43 (9.5382, -5.7258) -> (9.7701, -5.324) centre (9.5869, -5.4861) ccw
  line L43 (8.745, -5) -> (9.9502, -5.6959) construction
  arc A44 (9.7701, -4.676) -> (9.7701, -5.324) centre (10.1367, -5) ccw
  line L44 (8.745, -5) -> (10.1367, -5) construction
  line L45 (8.745, -5) -> (9.9502, -4.3041) construction
  arc A45 (9.7701, -4.676) -> (9.5382, -4.2742) centre (9.5869, -4.5139) ccw
  arc A46 (20.2199, -5.324) -> (20.2199, -4.676) centre (19.8533, -5) ccw
  arc A47 (22.0382, -5.7258) -> (21.4769, -6.0498) centre (21.9409, -6.2052) ccw
  line L46 (21.245, -5) -> (21.9409, -6.2052) construction
  arc A48 (21.0131, -6.0498) -> (21.4769, -6.0498) centre (21.245, -5.9721) ccw
  line L47 (21.245, -5) -> (21.245, -6.3917) construction
  line L48 (21.245, -5) -> (20.0398, -5.6959) construction
  line L49 (21.245, -5) -> (20.5492, -6.2052) construction
  line L50 (21.245, -5) -> (19.8533, -5) construction
  line L51 (21.245, -5) -> (20.0398, -4.3041) construction
  line L52 (21.245, -5) -> (20.5492, -3.7948) construction
  line L53 (21.245, -5) -> (21.245, -4.0279) construction
  arc A49 (21.4769, -3.9502) -> (21.0131, -3.9502) centre (21.245, -4.0279) ccw
  line L54 (21.245, -5) -> (21.245, -3.6083) construction
  line L55 (21.245, -5) -> (21.9409, -3.7948) construction
  arc A50 (21.4769, -3.9502) -> (22.0382, -4.2742) centre (21.9409, -3.7948) ccw
  arc A51 (20.2199, -5.324) -> (20.4518, -5.7258) centre (20.4031, -5.4861) ccw
  arc A52 (20.4518, -4.2742) -> (20.2199, -4.676) centre (20.4031, -4.5139) ccw
  line L56 (20.4523, -4.2743) -> (20.4518, -4.2742)
  arc A53 (21.0131, -6.0498) -> (20.4518, -5.7258) centre (20.5492, -6.2052) ccw
  arc A54 (20.4523, -4.2743) -> (21.0131, -3.9502) centre (20.5492, -3.7948) ccw
  circle A55 centre (21.245, -5) radius 1.0751 construction
  circle A56 centre (21.245, -5) radius 1.3917 construction
  circle A57 centre (21.245, -5) radius 0.9721 construction
  line L57 (21.245, -5) -> (22.6367, -5) construction
  arc A58 (22.0382, -5.7258) -> (22.2701, -5.324) centre (22.0869, -5.4861) ccw
  line L58 (21.245, -5) -> (22.4502, -5.6959) construction
  arc A59 (22.2701, -4.676) -> (22.2701, -5.324) centre (22.6367, -5) ccw
  line L59 (21.245, -5) -> (22.6367, -5) construction
  line L60 (21.245, -5) -> (22.4502, -4.3041) construction
  arc A60 (22.2701, -4.676) -> (22.0382, -4.2742) centre (22.0869, -4.5139) ccw
  dimension "d151" = 2.1502
  dimension "d152" = 2.7834
  dimension "d150" = 1.9442
  dimension "d153" = 0.2446
  dimension "d154" = 60
  dimension "d157" = 360
  dimension "d161" = 12.5
  dimension "d164" = 12.5
  dimension "d167" = 12.5
extrude "Extrusion4" cut sketch "Sketch5" against normal blind 1.3143 contours A4 A5 A6 A7 A8 A9 A10 A11 A12 A13 A14 A3 | A16 A22 A24 A19 A20 A30 A29 A28 A17 A18 A23 A21 | A31 A37 A39 A34 A35 A45 A44 A43 A32 A33 A38 A36 bodies 1 2
properties part number "DINRailAdapter_PhoenixContact_1201578" material "PC/ABS Plastic"
